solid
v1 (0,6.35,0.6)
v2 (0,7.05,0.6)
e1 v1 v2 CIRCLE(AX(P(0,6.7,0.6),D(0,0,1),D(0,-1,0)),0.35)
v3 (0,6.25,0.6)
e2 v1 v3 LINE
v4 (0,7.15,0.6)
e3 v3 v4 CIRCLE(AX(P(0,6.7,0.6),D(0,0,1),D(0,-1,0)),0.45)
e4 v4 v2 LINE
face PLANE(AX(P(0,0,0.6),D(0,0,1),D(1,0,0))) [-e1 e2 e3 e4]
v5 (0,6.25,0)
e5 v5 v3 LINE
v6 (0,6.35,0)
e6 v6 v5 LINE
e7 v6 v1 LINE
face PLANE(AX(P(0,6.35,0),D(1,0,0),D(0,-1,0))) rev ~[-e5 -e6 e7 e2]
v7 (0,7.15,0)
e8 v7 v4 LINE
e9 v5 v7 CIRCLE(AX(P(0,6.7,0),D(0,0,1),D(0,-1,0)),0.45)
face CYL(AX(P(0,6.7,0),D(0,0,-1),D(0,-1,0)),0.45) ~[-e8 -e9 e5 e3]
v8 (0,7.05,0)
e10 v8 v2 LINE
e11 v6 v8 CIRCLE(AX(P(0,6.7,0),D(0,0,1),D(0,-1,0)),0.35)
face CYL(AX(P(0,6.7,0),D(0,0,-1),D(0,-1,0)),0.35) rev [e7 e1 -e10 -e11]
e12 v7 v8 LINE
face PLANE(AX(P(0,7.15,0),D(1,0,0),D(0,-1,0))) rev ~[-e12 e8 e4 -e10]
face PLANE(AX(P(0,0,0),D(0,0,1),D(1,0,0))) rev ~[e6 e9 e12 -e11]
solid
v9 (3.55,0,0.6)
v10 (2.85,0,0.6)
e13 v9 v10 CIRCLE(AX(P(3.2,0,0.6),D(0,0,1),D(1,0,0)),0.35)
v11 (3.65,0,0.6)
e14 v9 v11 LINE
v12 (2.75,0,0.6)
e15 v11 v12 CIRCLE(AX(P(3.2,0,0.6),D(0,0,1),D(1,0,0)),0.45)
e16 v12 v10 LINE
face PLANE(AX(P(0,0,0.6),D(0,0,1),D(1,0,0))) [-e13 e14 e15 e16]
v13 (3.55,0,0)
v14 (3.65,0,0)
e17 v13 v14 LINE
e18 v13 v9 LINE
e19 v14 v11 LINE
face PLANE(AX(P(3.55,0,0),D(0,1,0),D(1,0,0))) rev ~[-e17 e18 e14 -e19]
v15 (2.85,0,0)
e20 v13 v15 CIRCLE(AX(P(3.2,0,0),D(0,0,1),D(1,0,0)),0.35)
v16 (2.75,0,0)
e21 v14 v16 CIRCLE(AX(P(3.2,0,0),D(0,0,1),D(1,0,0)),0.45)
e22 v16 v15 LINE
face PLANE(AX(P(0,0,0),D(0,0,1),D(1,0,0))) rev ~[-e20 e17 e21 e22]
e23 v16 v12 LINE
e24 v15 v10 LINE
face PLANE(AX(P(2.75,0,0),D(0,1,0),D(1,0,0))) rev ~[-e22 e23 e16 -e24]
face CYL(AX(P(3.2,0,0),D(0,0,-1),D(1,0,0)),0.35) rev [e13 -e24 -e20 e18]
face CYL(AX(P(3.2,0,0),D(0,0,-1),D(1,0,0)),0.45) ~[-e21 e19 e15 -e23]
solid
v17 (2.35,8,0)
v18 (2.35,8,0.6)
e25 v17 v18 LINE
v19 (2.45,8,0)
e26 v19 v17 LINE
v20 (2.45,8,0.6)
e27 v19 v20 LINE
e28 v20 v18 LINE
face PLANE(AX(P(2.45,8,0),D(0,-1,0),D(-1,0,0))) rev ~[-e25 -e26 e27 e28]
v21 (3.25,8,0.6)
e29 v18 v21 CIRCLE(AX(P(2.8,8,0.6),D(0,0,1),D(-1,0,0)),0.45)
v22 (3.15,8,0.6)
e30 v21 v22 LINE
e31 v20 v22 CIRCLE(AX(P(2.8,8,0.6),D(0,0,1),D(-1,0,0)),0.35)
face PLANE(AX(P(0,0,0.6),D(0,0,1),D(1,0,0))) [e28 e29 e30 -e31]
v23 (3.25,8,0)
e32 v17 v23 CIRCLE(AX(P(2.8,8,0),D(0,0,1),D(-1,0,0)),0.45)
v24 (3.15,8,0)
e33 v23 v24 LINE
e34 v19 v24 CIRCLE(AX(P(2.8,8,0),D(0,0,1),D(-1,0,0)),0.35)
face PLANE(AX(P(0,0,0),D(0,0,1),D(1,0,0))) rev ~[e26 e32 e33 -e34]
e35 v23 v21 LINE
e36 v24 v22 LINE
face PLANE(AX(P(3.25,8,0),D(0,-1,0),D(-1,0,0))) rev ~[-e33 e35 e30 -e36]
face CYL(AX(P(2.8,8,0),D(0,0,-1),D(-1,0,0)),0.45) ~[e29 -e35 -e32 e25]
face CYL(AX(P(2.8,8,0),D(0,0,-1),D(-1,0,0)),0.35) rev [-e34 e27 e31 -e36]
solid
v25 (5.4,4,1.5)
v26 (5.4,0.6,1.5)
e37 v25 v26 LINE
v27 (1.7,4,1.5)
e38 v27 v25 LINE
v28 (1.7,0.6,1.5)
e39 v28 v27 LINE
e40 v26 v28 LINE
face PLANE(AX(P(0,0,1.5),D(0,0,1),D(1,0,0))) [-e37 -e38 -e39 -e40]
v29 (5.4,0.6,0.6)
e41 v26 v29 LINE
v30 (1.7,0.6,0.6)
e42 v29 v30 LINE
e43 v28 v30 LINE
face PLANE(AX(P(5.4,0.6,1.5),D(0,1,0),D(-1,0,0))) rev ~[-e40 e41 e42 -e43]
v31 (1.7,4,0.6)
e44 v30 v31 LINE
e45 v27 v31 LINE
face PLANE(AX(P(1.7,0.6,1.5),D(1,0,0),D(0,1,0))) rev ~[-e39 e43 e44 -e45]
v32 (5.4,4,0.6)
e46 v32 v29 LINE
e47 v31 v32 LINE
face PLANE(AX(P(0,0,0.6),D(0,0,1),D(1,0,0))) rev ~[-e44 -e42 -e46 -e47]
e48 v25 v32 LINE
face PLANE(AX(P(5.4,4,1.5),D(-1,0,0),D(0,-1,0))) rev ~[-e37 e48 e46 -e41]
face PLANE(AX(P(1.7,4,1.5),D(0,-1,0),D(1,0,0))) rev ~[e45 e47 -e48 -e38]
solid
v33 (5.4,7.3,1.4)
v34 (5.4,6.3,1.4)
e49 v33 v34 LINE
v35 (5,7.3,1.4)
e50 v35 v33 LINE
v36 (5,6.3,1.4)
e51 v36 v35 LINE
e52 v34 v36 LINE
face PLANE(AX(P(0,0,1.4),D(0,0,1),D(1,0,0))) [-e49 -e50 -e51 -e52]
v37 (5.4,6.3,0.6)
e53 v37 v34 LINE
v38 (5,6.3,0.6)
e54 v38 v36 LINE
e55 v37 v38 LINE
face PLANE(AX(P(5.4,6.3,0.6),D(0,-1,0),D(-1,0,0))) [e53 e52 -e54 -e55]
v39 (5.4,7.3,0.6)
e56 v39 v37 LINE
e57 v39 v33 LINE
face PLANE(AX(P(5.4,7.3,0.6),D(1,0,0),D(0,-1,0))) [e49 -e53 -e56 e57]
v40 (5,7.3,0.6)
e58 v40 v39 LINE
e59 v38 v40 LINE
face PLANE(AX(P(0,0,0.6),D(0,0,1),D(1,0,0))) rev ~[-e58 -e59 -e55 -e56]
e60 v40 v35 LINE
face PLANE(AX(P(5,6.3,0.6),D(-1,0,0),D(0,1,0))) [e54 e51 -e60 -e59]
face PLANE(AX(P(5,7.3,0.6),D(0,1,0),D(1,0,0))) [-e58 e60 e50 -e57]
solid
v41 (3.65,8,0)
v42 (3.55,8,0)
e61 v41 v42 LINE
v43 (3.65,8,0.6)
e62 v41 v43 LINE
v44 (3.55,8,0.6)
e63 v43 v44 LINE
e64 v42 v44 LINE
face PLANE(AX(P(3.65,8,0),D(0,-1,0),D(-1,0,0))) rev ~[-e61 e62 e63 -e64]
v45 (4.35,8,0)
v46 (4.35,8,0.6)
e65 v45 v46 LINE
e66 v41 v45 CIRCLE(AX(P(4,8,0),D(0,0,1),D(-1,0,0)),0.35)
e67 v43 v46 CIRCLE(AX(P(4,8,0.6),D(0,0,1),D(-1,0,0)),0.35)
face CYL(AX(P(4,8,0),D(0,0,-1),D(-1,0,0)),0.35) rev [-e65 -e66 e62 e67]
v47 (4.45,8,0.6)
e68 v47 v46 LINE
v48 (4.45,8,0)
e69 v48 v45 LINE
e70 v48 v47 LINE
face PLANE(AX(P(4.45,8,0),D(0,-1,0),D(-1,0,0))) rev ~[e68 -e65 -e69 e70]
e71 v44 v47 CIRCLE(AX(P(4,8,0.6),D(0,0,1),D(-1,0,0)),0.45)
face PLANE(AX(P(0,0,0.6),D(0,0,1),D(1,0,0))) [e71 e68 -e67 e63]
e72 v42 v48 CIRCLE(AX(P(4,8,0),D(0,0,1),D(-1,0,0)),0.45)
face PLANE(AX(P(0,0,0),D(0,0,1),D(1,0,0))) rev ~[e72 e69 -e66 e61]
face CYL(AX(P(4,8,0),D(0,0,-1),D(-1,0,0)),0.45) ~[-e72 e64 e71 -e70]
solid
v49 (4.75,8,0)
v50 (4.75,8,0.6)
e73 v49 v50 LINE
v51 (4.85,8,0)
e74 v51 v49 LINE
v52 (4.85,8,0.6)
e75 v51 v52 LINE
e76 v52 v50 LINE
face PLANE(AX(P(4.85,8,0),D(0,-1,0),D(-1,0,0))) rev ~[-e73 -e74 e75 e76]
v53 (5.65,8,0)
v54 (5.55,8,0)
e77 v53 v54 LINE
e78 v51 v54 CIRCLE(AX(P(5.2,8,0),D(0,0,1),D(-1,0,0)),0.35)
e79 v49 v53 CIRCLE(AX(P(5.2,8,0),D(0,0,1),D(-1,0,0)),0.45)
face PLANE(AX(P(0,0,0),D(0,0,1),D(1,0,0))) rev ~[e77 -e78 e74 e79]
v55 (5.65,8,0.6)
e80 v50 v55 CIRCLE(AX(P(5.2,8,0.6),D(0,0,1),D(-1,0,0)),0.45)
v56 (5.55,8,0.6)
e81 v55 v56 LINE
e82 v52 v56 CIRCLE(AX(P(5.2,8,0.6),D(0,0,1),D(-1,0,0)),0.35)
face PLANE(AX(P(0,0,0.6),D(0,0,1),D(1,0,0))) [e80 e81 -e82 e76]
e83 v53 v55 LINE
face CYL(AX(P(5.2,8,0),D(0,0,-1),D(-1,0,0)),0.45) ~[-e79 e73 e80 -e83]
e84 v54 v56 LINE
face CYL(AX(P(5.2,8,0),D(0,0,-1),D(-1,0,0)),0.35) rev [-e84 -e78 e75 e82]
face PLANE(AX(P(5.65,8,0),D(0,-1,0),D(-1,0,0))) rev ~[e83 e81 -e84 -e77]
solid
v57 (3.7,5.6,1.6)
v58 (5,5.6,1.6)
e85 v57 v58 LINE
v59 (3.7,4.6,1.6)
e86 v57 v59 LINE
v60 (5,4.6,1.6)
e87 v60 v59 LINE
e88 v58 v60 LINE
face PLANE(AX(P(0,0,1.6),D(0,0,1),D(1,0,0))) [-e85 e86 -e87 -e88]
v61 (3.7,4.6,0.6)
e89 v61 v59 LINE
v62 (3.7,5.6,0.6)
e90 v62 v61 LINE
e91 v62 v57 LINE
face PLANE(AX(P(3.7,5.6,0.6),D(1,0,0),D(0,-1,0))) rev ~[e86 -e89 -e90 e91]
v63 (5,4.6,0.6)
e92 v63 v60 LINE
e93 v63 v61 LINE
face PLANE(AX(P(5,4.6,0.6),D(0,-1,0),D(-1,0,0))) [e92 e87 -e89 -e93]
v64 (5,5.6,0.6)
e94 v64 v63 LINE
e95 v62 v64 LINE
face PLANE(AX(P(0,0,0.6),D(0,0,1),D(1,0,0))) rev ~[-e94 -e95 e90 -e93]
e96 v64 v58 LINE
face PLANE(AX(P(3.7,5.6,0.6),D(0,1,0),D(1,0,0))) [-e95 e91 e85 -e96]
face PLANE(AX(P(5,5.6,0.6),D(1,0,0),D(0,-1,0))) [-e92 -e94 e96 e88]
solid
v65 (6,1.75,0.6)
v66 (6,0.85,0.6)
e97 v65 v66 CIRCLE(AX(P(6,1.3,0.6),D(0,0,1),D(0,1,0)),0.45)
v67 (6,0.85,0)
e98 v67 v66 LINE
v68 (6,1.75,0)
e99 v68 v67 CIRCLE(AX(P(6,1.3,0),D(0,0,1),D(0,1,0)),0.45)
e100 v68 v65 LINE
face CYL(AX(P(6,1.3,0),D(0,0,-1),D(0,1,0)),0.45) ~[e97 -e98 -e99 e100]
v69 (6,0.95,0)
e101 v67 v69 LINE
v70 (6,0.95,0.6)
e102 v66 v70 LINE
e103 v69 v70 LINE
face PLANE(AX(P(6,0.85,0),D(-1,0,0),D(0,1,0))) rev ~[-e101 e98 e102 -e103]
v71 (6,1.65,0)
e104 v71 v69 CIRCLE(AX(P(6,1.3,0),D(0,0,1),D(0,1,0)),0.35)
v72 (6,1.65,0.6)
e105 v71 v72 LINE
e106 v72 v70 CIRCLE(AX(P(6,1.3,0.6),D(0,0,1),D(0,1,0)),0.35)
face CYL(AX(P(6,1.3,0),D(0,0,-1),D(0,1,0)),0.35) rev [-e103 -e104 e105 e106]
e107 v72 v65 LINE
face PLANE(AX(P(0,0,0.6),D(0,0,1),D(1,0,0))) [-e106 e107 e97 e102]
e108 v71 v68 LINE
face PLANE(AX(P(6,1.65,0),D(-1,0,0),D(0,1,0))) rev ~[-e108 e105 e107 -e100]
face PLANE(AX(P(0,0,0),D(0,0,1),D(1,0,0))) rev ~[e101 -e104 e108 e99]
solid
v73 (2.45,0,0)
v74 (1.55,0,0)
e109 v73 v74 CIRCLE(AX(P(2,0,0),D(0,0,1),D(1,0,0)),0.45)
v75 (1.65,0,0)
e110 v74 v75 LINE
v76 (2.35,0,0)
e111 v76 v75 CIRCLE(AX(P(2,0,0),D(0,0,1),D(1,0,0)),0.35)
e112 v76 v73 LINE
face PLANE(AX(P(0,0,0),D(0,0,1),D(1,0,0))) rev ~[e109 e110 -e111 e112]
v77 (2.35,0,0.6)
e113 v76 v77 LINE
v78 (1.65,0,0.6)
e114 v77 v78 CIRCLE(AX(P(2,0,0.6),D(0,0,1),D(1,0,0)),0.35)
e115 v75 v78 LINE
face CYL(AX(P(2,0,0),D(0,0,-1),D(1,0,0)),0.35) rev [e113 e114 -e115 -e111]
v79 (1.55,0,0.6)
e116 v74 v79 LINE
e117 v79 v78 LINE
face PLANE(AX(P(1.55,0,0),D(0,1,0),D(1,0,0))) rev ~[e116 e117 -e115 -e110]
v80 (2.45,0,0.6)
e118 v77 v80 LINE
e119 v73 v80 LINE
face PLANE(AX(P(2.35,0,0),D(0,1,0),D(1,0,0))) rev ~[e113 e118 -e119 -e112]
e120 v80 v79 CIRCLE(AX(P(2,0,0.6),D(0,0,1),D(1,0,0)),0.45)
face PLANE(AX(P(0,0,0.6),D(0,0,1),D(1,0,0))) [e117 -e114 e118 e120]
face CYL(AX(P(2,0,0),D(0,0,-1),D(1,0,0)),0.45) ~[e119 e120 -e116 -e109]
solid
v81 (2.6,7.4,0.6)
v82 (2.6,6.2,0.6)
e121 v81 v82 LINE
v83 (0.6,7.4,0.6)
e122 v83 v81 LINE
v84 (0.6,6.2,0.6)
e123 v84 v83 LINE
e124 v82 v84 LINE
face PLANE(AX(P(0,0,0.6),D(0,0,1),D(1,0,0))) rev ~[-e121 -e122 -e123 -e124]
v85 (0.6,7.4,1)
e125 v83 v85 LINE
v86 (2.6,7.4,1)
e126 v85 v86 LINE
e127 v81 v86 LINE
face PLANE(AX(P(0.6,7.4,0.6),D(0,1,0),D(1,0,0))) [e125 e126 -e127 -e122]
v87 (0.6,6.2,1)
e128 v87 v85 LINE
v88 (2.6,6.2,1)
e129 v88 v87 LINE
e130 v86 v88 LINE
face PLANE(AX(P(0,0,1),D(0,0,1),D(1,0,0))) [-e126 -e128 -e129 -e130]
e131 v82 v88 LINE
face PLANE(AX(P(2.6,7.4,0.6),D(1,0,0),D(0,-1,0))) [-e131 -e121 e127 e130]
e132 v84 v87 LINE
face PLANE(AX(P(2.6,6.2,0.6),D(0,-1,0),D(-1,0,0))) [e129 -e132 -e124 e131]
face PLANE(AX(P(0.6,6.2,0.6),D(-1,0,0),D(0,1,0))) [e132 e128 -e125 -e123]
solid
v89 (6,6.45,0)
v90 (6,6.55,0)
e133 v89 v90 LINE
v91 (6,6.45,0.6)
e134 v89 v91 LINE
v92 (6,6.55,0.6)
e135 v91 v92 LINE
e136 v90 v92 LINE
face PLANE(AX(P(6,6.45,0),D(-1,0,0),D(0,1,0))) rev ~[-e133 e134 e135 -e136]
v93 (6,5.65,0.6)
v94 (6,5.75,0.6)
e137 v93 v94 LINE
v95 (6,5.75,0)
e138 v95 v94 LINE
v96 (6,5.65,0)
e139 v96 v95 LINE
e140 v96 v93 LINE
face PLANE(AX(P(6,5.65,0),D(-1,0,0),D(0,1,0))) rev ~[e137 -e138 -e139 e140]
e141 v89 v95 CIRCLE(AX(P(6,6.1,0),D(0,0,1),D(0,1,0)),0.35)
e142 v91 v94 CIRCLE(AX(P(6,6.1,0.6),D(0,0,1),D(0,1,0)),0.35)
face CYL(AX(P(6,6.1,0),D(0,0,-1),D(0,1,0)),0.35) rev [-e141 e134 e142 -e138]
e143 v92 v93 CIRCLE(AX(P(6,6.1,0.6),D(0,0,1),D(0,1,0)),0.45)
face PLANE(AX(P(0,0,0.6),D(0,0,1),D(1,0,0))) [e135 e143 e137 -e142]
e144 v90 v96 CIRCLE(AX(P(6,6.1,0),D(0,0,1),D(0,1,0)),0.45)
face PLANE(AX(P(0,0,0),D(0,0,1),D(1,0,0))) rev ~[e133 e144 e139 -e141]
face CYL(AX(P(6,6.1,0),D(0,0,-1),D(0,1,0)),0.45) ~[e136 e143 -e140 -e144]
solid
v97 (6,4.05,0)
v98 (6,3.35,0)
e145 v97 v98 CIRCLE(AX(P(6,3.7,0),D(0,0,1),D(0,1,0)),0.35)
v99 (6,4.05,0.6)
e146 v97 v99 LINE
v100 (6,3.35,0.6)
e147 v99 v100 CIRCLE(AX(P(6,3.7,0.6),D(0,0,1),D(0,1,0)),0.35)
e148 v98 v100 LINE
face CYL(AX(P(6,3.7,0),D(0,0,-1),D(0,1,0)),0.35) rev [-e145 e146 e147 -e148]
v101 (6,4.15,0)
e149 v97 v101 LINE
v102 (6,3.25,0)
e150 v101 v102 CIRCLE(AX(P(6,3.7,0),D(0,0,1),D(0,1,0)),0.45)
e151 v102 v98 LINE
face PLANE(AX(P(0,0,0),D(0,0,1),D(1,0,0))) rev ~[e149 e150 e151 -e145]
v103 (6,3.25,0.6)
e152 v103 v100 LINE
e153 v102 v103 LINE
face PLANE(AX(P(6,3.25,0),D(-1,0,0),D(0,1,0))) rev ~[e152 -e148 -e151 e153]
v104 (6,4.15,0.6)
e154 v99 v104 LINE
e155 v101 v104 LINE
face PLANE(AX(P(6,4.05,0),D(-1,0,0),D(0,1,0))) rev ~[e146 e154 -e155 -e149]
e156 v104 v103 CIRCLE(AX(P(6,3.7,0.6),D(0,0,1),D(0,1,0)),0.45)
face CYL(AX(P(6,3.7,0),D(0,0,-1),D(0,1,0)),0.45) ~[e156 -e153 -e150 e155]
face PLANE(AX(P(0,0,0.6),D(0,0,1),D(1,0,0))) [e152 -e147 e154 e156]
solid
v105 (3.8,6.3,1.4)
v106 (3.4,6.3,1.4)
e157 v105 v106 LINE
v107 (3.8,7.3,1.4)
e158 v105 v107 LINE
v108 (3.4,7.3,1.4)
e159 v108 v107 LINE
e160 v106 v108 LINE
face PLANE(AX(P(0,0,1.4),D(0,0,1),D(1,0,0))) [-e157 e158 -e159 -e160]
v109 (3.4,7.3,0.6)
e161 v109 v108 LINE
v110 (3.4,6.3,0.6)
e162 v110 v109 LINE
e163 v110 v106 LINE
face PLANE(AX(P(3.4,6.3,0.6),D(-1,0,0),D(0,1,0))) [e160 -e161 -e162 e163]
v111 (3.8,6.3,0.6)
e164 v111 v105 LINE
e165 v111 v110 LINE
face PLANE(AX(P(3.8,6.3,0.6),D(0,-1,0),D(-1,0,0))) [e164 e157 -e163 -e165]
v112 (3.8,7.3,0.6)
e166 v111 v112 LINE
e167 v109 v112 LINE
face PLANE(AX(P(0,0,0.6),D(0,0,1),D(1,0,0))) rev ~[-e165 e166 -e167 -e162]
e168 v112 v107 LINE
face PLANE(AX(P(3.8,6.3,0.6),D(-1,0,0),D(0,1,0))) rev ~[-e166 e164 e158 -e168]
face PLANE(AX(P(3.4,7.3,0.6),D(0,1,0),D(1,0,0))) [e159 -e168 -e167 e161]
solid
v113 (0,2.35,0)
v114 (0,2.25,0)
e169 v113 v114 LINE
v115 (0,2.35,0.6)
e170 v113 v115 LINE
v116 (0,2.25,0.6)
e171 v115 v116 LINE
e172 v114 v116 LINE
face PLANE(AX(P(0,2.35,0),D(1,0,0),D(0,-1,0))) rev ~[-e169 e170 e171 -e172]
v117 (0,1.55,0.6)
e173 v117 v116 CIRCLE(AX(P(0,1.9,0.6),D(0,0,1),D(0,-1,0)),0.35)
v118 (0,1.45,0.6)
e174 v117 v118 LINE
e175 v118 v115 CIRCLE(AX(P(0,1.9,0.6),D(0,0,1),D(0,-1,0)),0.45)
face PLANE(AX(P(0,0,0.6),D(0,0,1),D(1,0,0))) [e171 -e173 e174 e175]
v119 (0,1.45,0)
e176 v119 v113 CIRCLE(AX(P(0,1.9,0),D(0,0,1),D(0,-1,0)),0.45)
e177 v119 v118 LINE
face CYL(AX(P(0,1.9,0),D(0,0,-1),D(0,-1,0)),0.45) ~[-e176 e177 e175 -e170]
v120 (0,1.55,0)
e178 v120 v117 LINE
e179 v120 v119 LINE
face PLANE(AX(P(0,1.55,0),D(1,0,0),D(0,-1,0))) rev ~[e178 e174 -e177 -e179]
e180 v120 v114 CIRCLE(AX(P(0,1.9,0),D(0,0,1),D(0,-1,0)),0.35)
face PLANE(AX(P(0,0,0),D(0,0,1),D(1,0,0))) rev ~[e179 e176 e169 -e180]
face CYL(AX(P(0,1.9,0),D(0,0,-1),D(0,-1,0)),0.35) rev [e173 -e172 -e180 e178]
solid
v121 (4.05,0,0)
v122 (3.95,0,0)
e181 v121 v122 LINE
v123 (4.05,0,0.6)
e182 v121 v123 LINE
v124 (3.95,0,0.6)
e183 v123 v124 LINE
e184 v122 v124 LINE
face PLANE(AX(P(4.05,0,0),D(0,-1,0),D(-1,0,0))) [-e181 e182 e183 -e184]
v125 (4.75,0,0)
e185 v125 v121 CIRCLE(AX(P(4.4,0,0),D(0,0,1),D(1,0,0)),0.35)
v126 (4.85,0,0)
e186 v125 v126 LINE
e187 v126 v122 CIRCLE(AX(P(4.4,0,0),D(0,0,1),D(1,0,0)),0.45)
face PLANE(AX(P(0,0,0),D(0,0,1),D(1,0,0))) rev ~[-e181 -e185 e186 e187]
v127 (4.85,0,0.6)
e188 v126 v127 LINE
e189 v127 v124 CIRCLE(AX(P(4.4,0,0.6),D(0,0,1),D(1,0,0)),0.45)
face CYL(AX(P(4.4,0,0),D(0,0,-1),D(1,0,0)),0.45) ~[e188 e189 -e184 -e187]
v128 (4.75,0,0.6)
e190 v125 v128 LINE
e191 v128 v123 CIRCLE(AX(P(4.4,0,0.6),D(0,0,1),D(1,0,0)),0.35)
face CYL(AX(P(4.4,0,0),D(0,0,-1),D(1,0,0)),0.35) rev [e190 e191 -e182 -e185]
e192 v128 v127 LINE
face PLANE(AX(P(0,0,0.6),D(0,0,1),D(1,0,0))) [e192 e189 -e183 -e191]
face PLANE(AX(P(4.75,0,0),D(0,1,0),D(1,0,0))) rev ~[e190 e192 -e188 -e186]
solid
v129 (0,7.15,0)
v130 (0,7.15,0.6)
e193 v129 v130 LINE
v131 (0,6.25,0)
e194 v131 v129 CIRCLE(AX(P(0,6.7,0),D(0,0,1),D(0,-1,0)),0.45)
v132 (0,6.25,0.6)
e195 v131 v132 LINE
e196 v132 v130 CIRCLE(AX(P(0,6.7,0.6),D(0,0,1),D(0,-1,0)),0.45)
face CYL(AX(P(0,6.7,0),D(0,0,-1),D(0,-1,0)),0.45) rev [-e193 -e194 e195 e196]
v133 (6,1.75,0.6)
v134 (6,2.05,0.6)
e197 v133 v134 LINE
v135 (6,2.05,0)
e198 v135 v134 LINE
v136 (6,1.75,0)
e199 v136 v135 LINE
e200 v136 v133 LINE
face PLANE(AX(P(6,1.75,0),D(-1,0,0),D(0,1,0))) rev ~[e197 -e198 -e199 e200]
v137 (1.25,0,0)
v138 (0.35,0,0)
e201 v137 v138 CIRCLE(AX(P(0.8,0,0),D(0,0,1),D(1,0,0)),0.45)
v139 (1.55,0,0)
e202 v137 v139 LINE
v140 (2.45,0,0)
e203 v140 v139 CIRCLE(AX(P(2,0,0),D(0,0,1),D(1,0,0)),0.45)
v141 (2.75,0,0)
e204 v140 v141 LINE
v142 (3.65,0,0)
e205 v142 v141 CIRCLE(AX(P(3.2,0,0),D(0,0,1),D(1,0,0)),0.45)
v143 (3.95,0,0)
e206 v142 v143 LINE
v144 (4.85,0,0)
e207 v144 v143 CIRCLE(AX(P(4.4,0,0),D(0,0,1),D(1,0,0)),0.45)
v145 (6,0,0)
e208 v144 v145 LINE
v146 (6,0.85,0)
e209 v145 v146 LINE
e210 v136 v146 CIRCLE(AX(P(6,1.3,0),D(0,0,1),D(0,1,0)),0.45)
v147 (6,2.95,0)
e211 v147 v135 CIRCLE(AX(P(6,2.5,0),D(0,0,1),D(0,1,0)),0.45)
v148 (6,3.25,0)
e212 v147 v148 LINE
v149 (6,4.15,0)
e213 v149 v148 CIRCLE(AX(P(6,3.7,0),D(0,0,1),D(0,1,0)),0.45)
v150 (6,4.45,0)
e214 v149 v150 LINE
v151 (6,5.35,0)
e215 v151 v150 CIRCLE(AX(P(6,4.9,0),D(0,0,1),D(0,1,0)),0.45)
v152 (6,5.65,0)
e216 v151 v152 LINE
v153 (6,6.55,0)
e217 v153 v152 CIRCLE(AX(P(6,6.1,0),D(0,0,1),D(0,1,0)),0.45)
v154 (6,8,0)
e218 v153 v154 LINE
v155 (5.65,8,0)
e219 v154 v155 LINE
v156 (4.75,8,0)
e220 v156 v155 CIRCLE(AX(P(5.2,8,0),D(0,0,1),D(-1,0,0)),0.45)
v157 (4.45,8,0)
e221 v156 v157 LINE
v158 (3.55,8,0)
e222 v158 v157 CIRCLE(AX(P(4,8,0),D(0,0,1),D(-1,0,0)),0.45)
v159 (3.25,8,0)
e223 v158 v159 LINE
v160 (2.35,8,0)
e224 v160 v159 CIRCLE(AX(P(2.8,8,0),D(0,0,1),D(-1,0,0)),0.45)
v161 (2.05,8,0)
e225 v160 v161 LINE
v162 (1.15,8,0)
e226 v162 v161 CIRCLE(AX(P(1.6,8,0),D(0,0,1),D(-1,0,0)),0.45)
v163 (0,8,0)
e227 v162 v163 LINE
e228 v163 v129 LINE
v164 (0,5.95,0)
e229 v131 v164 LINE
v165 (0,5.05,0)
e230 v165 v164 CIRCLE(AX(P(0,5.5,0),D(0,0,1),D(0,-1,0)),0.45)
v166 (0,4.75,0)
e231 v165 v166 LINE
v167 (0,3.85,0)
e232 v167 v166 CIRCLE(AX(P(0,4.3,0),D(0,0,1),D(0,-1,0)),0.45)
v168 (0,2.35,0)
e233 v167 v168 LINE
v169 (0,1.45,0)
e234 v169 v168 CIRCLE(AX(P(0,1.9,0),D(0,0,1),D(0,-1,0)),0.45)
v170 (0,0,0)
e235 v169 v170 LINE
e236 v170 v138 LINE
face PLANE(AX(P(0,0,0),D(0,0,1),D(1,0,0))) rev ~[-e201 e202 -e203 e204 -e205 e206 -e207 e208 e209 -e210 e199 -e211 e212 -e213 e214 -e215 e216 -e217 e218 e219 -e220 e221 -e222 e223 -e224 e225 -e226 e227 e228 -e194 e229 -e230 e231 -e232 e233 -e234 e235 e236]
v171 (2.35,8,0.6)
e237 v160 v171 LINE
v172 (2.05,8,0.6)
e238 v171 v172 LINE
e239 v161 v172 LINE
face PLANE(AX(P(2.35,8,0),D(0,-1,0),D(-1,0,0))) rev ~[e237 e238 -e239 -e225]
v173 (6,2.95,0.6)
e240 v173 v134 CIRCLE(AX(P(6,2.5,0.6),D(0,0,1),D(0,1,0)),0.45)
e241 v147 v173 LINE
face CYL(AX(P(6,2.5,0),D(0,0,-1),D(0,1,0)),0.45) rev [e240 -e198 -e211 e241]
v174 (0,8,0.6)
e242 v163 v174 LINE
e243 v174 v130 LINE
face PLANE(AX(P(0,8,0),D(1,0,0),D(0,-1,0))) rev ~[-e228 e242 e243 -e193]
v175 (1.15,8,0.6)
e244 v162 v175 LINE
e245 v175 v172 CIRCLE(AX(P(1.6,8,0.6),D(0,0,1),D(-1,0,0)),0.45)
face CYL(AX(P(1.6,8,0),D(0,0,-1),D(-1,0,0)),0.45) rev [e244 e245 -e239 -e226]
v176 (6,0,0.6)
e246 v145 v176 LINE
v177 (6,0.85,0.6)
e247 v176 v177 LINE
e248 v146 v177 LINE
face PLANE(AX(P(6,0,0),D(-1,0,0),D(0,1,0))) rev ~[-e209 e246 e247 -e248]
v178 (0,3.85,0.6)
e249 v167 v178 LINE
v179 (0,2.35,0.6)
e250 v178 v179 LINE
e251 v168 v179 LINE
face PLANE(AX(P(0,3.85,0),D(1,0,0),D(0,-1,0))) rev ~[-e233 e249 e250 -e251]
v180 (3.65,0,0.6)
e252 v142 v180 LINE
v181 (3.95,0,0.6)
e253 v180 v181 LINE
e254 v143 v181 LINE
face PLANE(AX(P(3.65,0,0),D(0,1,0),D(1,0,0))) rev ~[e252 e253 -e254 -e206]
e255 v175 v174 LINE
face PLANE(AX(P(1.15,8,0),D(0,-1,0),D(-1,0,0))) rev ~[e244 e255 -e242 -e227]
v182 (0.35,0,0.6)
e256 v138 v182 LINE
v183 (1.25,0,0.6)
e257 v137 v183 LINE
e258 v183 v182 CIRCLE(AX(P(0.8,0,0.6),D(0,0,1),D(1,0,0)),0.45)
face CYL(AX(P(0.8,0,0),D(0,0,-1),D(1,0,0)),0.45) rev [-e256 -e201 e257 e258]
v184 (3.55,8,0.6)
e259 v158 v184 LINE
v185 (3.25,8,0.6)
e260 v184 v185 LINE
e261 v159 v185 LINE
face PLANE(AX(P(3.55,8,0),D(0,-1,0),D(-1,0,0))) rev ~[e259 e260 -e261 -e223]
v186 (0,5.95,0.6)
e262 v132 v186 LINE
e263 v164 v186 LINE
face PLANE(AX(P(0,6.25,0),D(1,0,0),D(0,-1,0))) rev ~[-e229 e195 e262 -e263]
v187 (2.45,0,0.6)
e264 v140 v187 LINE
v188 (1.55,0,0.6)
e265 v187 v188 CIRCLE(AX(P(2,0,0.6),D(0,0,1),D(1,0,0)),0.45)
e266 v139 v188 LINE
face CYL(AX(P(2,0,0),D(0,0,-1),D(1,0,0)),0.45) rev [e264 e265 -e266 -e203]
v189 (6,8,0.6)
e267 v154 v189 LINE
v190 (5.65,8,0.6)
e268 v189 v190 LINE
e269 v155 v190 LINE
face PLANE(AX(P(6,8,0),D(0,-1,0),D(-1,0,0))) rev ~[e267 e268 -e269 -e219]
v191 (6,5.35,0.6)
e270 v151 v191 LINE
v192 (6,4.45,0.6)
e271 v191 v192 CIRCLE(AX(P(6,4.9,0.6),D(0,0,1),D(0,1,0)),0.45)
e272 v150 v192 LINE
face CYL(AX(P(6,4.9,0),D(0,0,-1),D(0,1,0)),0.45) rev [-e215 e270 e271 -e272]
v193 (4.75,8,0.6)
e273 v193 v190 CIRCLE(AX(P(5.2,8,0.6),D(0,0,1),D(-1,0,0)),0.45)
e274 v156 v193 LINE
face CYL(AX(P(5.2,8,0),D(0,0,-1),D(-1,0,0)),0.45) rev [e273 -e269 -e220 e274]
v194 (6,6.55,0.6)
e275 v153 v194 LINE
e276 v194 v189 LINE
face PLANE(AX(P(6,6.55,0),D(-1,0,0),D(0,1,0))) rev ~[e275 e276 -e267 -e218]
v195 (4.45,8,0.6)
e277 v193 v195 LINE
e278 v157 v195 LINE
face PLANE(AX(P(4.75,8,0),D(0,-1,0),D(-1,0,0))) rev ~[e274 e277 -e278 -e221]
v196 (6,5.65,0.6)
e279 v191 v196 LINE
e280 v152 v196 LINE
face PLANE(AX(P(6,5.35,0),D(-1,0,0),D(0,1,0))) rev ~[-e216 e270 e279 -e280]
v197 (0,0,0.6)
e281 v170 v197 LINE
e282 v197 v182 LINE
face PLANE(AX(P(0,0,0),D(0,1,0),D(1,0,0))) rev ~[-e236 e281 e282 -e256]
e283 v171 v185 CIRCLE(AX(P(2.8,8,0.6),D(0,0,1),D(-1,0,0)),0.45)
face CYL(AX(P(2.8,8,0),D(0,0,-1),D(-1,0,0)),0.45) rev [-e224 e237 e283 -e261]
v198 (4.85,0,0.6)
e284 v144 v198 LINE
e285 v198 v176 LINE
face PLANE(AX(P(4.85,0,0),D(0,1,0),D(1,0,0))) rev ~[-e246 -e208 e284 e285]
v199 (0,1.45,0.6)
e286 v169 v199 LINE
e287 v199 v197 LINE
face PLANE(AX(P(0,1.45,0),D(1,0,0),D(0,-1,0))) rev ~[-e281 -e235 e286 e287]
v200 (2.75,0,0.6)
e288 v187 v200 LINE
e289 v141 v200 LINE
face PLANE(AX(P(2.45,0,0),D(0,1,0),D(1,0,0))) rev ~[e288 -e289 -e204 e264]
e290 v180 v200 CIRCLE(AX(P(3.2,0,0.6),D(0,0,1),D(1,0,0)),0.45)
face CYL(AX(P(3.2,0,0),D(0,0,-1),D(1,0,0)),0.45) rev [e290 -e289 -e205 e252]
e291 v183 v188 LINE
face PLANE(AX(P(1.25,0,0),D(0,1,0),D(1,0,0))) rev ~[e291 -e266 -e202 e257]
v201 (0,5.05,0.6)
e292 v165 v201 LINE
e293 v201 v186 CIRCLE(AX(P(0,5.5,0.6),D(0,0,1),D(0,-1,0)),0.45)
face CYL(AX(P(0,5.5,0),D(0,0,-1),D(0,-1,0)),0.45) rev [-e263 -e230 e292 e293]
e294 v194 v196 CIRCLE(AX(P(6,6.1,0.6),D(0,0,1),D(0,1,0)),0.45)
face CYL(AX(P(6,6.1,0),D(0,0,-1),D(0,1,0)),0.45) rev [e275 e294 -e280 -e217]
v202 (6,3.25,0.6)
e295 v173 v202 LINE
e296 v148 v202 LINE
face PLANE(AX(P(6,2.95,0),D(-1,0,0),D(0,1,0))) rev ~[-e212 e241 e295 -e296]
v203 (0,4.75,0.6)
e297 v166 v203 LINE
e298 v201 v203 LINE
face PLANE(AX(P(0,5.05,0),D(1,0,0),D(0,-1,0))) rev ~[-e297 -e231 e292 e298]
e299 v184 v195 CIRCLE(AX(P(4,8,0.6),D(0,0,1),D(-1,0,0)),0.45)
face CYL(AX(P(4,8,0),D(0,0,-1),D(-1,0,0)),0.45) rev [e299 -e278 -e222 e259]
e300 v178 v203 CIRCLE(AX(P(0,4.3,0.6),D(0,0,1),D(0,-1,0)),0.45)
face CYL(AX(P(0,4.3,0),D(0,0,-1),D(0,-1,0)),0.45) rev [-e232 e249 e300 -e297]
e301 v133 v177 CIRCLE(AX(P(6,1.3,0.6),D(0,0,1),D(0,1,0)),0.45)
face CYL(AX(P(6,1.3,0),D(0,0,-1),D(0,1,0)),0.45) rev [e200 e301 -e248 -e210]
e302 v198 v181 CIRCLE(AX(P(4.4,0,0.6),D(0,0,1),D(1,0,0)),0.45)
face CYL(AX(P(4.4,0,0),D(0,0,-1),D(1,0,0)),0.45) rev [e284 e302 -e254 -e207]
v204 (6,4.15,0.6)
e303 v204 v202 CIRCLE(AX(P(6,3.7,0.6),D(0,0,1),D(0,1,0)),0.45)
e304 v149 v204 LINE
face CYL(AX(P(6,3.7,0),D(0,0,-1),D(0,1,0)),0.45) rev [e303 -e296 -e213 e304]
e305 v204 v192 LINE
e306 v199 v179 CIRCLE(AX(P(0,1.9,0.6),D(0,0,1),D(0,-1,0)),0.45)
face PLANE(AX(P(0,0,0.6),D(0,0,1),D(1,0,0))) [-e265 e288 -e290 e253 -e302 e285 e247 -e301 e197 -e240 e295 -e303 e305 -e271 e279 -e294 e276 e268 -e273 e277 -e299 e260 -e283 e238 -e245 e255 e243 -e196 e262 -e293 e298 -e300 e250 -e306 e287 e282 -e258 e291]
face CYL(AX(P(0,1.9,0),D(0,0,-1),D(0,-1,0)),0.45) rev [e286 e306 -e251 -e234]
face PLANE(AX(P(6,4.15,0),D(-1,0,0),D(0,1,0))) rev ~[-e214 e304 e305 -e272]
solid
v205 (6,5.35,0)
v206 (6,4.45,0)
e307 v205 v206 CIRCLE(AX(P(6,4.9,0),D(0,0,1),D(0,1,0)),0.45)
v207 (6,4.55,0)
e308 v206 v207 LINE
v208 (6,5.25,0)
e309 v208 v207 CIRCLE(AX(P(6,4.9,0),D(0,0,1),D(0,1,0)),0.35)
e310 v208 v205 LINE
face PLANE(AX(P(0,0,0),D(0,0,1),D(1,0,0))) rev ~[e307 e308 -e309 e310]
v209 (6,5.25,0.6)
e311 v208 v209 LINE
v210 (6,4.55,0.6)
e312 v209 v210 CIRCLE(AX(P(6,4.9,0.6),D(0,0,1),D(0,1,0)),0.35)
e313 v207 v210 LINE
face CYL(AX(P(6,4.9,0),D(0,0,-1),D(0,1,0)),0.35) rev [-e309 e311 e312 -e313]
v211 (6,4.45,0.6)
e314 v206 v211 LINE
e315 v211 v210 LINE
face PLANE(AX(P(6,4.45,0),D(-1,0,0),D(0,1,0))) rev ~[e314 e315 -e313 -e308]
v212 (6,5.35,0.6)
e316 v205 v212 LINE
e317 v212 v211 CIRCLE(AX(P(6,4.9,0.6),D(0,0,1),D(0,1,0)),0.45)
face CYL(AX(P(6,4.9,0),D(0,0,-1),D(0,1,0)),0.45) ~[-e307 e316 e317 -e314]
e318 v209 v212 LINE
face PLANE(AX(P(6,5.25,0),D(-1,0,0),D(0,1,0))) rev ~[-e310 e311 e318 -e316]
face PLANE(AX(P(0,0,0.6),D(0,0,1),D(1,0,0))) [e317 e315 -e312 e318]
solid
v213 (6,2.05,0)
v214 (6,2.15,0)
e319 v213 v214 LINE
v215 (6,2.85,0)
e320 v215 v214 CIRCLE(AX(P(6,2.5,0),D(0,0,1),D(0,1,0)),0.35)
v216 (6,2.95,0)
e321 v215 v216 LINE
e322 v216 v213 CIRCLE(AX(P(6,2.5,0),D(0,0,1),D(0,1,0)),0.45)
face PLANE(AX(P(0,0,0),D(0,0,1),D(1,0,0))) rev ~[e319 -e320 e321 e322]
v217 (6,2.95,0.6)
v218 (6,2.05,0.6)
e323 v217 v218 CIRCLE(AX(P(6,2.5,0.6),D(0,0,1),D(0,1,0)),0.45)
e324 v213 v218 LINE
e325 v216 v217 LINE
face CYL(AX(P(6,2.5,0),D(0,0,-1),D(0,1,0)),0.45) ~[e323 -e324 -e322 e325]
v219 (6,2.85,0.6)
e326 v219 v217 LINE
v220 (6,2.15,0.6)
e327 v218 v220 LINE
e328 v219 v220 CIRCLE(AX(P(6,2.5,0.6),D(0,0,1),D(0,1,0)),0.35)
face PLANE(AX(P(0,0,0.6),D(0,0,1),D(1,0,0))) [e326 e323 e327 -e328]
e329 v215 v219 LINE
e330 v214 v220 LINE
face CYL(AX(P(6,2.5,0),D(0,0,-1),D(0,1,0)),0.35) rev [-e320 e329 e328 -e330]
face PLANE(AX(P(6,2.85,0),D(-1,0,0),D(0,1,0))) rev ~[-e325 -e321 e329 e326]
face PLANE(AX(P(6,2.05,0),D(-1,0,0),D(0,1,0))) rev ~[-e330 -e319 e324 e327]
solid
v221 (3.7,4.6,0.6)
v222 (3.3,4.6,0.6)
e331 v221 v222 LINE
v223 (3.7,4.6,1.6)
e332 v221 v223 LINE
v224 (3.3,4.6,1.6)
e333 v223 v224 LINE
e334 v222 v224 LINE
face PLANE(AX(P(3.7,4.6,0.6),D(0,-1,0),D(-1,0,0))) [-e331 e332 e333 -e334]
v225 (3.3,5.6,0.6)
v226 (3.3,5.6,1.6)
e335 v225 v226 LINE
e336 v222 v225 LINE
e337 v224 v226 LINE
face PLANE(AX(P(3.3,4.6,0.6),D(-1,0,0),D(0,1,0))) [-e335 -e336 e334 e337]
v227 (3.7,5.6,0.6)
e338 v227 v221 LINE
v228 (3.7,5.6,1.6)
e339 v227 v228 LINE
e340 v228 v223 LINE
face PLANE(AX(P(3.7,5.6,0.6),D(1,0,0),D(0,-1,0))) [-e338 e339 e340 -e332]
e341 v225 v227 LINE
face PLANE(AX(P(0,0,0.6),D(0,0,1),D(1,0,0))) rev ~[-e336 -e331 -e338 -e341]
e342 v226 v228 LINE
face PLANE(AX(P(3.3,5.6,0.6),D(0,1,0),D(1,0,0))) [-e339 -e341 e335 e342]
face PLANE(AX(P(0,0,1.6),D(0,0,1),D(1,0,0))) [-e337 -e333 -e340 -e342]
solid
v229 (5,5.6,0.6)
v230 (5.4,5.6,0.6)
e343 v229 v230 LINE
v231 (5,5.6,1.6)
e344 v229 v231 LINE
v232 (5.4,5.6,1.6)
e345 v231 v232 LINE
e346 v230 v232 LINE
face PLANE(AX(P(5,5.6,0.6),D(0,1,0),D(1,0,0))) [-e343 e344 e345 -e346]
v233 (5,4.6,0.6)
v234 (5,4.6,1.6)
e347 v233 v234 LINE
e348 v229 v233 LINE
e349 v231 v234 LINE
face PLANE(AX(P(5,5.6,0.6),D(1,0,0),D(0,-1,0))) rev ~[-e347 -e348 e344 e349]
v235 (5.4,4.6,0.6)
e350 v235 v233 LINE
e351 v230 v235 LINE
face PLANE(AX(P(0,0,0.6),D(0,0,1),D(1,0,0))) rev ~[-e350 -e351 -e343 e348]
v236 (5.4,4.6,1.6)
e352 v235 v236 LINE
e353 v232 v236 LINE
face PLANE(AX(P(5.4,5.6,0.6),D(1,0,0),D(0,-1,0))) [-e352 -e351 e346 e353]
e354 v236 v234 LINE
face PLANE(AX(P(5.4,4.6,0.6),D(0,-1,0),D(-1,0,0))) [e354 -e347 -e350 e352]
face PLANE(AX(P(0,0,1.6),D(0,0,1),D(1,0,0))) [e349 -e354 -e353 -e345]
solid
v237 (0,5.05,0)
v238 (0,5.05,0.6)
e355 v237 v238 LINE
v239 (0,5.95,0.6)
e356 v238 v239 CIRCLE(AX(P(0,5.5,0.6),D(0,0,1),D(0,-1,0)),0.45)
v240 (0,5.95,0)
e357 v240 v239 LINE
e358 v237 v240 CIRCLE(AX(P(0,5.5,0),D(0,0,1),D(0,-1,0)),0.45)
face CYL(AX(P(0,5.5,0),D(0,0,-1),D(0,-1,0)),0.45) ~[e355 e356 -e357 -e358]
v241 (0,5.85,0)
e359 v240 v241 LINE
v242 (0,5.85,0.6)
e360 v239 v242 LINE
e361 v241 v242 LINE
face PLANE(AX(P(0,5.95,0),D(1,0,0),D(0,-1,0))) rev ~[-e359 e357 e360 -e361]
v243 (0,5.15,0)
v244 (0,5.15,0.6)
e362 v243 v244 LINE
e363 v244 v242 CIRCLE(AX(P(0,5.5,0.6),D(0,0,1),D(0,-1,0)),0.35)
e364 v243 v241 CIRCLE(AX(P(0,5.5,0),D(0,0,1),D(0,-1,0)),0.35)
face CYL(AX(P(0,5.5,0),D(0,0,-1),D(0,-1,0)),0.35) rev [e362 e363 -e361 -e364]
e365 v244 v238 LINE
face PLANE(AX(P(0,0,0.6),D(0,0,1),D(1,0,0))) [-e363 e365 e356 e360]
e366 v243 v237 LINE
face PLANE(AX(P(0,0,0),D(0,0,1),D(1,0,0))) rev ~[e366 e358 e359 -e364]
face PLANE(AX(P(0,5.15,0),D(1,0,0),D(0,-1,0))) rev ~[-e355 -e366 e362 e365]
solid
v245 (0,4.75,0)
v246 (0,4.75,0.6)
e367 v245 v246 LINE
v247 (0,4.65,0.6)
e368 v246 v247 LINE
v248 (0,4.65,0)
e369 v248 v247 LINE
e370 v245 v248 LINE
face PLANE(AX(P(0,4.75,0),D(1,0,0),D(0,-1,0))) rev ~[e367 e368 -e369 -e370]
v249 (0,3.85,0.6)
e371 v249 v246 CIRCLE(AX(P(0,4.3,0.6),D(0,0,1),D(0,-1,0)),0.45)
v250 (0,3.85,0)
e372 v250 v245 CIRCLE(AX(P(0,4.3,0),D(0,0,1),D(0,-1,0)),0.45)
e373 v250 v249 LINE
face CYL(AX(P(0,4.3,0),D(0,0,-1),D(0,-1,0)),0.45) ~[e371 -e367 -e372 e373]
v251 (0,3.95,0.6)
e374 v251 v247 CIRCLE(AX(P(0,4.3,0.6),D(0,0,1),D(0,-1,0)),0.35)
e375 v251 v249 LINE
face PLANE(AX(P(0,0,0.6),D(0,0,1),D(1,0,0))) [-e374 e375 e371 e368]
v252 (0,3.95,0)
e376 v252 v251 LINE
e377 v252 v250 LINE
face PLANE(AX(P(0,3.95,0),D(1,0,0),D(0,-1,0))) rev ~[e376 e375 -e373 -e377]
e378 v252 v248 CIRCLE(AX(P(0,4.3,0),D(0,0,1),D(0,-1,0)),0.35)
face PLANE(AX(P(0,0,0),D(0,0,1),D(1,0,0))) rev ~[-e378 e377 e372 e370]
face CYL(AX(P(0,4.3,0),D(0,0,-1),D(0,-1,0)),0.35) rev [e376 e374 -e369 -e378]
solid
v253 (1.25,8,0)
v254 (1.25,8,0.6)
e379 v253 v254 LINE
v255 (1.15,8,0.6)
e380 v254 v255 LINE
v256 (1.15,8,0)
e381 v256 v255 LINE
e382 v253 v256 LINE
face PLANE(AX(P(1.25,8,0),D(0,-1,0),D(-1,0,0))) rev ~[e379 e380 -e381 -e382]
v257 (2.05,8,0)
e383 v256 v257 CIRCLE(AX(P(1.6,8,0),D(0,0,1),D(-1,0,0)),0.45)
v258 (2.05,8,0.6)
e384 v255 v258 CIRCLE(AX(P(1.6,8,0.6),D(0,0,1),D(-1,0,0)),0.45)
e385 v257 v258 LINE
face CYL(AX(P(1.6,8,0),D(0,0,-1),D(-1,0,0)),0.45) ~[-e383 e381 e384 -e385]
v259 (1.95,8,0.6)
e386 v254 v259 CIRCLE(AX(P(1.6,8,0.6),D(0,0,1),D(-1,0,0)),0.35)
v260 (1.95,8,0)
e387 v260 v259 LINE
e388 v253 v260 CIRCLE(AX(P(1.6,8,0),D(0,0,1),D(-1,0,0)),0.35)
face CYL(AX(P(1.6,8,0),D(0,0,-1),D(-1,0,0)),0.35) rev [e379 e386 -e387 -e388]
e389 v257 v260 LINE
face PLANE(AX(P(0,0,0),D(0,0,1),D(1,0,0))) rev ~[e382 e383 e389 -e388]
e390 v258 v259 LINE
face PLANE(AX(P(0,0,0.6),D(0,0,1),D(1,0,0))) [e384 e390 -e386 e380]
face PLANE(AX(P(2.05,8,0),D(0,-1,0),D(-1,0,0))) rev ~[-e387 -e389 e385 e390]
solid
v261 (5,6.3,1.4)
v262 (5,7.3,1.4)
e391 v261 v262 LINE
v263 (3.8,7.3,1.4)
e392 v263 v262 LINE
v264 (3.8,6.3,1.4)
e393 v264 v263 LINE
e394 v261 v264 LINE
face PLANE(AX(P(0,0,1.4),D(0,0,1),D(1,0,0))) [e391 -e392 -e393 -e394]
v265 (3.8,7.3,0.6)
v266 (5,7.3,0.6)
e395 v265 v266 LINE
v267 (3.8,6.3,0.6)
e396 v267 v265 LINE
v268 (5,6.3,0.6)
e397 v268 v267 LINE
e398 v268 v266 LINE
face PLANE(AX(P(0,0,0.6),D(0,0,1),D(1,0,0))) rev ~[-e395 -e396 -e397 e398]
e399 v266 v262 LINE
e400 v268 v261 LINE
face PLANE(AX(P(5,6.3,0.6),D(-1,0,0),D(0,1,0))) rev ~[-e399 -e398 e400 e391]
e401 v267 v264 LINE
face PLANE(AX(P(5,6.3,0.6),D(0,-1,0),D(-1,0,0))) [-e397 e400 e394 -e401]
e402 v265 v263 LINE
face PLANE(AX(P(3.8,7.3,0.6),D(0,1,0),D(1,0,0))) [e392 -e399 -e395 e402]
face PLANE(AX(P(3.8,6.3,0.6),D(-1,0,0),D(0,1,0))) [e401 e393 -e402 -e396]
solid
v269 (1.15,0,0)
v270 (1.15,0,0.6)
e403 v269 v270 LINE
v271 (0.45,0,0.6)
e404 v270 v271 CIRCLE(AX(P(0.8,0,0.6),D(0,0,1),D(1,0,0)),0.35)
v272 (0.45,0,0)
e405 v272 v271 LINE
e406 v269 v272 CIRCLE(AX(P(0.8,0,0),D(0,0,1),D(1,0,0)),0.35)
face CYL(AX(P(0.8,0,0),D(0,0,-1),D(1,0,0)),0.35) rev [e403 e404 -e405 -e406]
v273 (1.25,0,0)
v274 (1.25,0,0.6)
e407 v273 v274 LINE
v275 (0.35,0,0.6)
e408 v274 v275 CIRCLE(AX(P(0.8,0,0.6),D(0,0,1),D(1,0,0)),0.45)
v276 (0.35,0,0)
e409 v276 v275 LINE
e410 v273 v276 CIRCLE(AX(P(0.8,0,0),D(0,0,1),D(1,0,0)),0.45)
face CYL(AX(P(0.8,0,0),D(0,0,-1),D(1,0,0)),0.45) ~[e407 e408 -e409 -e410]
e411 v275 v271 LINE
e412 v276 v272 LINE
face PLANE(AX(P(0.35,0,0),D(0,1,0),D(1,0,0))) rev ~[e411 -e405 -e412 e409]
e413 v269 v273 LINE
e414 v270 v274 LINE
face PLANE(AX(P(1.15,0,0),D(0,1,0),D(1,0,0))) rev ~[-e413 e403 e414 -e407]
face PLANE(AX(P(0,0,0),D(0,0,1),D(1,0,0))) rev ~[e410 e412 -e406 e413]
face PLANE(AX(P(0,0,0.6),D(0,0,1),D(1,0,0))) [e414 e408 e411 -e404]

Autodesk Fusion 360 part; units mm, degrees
sketch "Sketch1" plane through (0, 0, 0) normal (0, 0, 1) x (1, 0, 0)
  arc A0 (6, 6.55) -> (6, 5.65) centre (6, 6.1) ccw
  arc A1 (6, 6.45) -> (6, 5.75) centre (6, 6.1) ccw
  arc A2 (6, 5.35) -> (6, 4.45) centre (6, 4.9) ccw
  arc A3 (6, 5.25) -> (6, 4.55) centre (6, 4.9) ccw
  arc A4 (6, 4.15) -> (6, 3.25) centre (6, 3.7) ccw
  arc A5 (6, 4.05) -> (6, 3.35) centre (6, 3.7) ccw
  arc A6 (6, 2.85) -> (6, 2.15) centre (6, 2.5) ccw
  arc A7 (6, 2.95) -> (6, 2.05) centre (6, 2.5) ccw
  arc A8 (6, 1.75) -> (6, 0.85) centre (6, 1.3) ccw
  arc A9 (6, 1.65) -> (6, 0.95) centre (6, 1.3) ccw
  arc A10 (4.85, 0) -> (3.95, 0) centre (4.4, 0) ccw
  arc A11 (4.75, 0) -> (4.05, 0) centre (4.4, 0) ccw
  arc A12 (3.65, 0) -> (2.75, 0) centre (3.2, 0) ccw
  arc A13 (3.55, 0) -> (2.85, 0) centre (3.2, 0) ccw
  arc A14 (2.45, 0) -> (1.55, 0) centre (2, 0) ccw
  arc A15 (2.35, 0) -> (1.65, 0) centre (2, 0) ccw
  arc A16 (1.25, 0) -> (0.35, 0) centre (0.8, 0) ccw
  arc A17 (1.15, 0) -> (0.45, 0) centre (0.8, 0) ccw
  arc A18 (0, 1.45) -> (0, 2.35) centre (0, 1.9) ccw
  arc A19 (0, 1.55) -> (0, 2.25) centre (0, 1.9) ccw
  arc A20 (0, 3.85) -> (0, 4.75) centre (0, 4.3) ccw
  arc A21 (0, 3.95) -> (0, 4.65) centre (0, 4.3) ccw
  arc A22 (0, 5.05) -> (0, 5.95) centre (0, 5.5) ccw
  arc A23 (0, 5.15) -> (0, 5.85) centre (0, 5.5) ccw
  arc A24 (0, 6.25) -> (0, 7.15) centre (0, 6.7) ccw
  arc A25 (0, 6.35) -> (0, 7.05) centre (0, 6.7) ccw
  arc A26 (1.15, 8) -> (2.05, 8) centre (1.6, 8) ccw
  arc A27 (1.25, 8) -> (1.95, 8) centre (1.6, 8) ccw
  arc A28 (2.35, 8) -> (3.25, 8) centre (2.8, 8) ccw
  arc A29 (2.45, 8) -> (3.15, 8) centre (2.8, 8) ccw
  arc A30 (3.65, 8) -> (4.35, 8) centre (4, 8) ccw
  arc A31 (3.55, 8) -> (4.45, 8) centre (4, 8) ccw
  arc A32 (4.75, 8) -> (5.65, 8) centre (5.2, 8) ccw
  arc A33 (4.85, 8) -> (5.55, 8) centre (5.2, 8) ccw
  line L0 (0, 1.55) -> (0, 0)
  line L1 (0, 3.95) -> (0, 2.25)
  line L2 (0, 5.15) -> (0, 4.65)
  line L3 (0, 8) -> (0, 7.05)
  line L4 (0, 6.35) -> (0, 5.85)
  line L5 (1.25, 8) -> (0, 8)
  line L6 (2.45, 8) -> (1.95, 8)
  line L7 (3.65, 8) -> (3.15, 8)
  line L8 (6, 8) -> (5.55, 8)
  line L9 (4.85, 8) -> (4.35, 8)
  line L10 (6, 6.45) -> (6, 8)
  line L11 (6, 5.25) -> (6, 5.75)
  line L12 (6, 4.05) -> (6, 4.55)
  line L13 (0, 0) -> (0.45, 0)
  line L14 (1.15, 0) -> (1.65, 0)
  line L15 (2.35, 0) -> (2.85, 0)
  line L16 (3.55, 0) -> (3.95, 0)
  line L17 (4.75, 0) -> (6, 0)
  line L18 (6, 0) -> (6, 0.95)
  line L19 (6, 1.65) -> (6, 2.15)
  line L20 (6, 2.85) -> (6, 3.35)
  line L21 (1.7, 4) -> (5.4, 4)
  line L22 (5.4, 4) -> (5.4, 0.6)
  line L23 (5.4, 0.6) -> (1.7, 0.6)
  line L24 (1.7, 0.6) -> (1.7, 4)
  line L25 (4.05, 0) -> (3.95, 0)
  line L26 (0.6, 7.4) -> (2.6, 7.4)
  line L27 (2.6, 7.4) -> (2.6, 6.2)
  line L28 (2.6, 6.2) -> (0.6, 6.2)
  line L29 (0.6, 6.2) -> (0.6, 7.4)
  line L30 (5.4, 4.6) -> (3.3, 4.6)
  line L31 (3.3, 4.6) -> (3.3, 5.6)
  line L32 (3.3, 5.6) -> (5.4, 5.6)
  line L33 (5.4, 5.6) -> (5.4, 4.6)
  line L34 (5.4, 6.3) -> (3.4, 6.3)
  line L35 (3.4, 6.3) -> (3.4, 7.3)
  line L36 (3.4, 7.3) -> (5.4, 7.3)
  line L37 (5.4, 7.3) -> (5.4, 6.3)
  line L38 (3.8, 6.3) -> (3.8, 7.3)
  line L39 (5, 6.3) -> (5, 7.3)
  line L40 (3.7, 5.6) -> (3.7, 4.6)
  line L41 (5, 5.6) -> (5, 4.6)
extrude "Extrude1" add sketch "Sketch1" along normal blind 0.6 contours A0 A2 A4 A7 A8 A10 A12 A14 A16 A18 A20 A22 A24 A26 A28 A31 A32 L0 L1 L2 L3 L4 L5 L6 L7 L8 L9 L10 L11 L12 L13 L14 L15 L16 L17 L18 L19 L20 | L21 L22 L23 L24 | L26 L27 L28 L29 | L30 L32 L33 L41 | L30 L32 L40 L41 | L30 L31 L32 L40 | L34 L36 L37 L39 | L34 L36 L38 L39 | L34 L35 L36 L38 makes body 1
extrude "Extrude2" add sketch "Sketch1" along normal blind 0.6 separate body contours A0 A1 L10 L11 | A2 A3 L11 L12 | A32 A33 L8 L9 | A4 A5 L12 L20 | A30 A31 L7 L9 | A6 A7 L19 L20 | A28 A29 L6 L7 | A8 A9 L18 L19 | A26 A27 L5 L6 | A10 A11 L17 L25 | A24 A25 L3 L4 | A12 A13 L15 L16 | A22 A23 L2 L4 | A14 A15 L14 L15 | A20 A21 L1 L2 | A16 A17 L13 L14 | A18 A19 L0 L1 makes body 2 at (1.8149, 0.4102, 0.2) makes body 3 at (5.8252, 4.1147, 0.4) makes body 4 at (4.2978, 7.6626, 0.2) makes body 5 at (0.4332, 5.3781, 0.4) makes body 6 at (0.4465, 6.644, 0.4) makes body 7 at (5.5447, 7.7107, 0.4) makes body 8 at (5.9108, 2.0589, 0.4) makes body 9 at (0.416, 0.2346, 0.4) makes body 10 at (3.3219, 0.4332, 0.4) makes body 11 at (5.5734, 5.0433, 0.4) makes body 12 at (3.1447, 7.7107, 0.4) makes body 13 at (0.4465, 4.244, 0.4) makes body 14 at (1.9447, 7.7107, 0.4) makes body 15 at (5.5734, 6.2433, 0.4) makes body 16 at (5.8252, 1.7147, 0.4) makes body 17 at (0.0224, 2.3494, 0.4) makes body 18 at (4.6978, 0.3374, 0.4)
extrude "Extrude3" add sketch "Sketch1" along normal blind 0.6 and the other way blind -1.5 separate body contours L21 L22 L23 L24 makes body 19
extrude "Extrude4" add sketch "Sketch1" along normal blind 1 and the other way blind -0.6 separate body contours L26 L27 L28 L29 makes body 20
extrude "Extrude5" add sketch "Sketch1" along normal blind 1.6 and the other way blind -0.6 separate body contours L30 L32 L33 L41 | L30 L31 L32 L40 makes body 21 at (5, 5.2667, 0.9333) makes body 22 at (3.3, 4.9333, 0.9333)
extrude "Extrude6" add sketch "Sketch1" along normal blind 1.4 and the other way blind -0.6 separate body contours L34 L36 L37 L39 | L34 L35 L36 L38 makes body 23 at (5, 6.6333, 0.8667) makes body 24 at (3.4, 6.6333, 0.8667)
extrude "Extrude7" add sketch "Sketch1" along normal blind 1.6 and the other way blind -0.6 separate body contours L30 L32 L40 L41 makes body 25
extrude "Extrude8" add sketch "Sketch1" along normal blind 1.4 and the other way blind -0.6 separate body contours L34 L36 L38 L39 makes body 26
equation "d37 = 0.6 mm + 0.4 mm"
